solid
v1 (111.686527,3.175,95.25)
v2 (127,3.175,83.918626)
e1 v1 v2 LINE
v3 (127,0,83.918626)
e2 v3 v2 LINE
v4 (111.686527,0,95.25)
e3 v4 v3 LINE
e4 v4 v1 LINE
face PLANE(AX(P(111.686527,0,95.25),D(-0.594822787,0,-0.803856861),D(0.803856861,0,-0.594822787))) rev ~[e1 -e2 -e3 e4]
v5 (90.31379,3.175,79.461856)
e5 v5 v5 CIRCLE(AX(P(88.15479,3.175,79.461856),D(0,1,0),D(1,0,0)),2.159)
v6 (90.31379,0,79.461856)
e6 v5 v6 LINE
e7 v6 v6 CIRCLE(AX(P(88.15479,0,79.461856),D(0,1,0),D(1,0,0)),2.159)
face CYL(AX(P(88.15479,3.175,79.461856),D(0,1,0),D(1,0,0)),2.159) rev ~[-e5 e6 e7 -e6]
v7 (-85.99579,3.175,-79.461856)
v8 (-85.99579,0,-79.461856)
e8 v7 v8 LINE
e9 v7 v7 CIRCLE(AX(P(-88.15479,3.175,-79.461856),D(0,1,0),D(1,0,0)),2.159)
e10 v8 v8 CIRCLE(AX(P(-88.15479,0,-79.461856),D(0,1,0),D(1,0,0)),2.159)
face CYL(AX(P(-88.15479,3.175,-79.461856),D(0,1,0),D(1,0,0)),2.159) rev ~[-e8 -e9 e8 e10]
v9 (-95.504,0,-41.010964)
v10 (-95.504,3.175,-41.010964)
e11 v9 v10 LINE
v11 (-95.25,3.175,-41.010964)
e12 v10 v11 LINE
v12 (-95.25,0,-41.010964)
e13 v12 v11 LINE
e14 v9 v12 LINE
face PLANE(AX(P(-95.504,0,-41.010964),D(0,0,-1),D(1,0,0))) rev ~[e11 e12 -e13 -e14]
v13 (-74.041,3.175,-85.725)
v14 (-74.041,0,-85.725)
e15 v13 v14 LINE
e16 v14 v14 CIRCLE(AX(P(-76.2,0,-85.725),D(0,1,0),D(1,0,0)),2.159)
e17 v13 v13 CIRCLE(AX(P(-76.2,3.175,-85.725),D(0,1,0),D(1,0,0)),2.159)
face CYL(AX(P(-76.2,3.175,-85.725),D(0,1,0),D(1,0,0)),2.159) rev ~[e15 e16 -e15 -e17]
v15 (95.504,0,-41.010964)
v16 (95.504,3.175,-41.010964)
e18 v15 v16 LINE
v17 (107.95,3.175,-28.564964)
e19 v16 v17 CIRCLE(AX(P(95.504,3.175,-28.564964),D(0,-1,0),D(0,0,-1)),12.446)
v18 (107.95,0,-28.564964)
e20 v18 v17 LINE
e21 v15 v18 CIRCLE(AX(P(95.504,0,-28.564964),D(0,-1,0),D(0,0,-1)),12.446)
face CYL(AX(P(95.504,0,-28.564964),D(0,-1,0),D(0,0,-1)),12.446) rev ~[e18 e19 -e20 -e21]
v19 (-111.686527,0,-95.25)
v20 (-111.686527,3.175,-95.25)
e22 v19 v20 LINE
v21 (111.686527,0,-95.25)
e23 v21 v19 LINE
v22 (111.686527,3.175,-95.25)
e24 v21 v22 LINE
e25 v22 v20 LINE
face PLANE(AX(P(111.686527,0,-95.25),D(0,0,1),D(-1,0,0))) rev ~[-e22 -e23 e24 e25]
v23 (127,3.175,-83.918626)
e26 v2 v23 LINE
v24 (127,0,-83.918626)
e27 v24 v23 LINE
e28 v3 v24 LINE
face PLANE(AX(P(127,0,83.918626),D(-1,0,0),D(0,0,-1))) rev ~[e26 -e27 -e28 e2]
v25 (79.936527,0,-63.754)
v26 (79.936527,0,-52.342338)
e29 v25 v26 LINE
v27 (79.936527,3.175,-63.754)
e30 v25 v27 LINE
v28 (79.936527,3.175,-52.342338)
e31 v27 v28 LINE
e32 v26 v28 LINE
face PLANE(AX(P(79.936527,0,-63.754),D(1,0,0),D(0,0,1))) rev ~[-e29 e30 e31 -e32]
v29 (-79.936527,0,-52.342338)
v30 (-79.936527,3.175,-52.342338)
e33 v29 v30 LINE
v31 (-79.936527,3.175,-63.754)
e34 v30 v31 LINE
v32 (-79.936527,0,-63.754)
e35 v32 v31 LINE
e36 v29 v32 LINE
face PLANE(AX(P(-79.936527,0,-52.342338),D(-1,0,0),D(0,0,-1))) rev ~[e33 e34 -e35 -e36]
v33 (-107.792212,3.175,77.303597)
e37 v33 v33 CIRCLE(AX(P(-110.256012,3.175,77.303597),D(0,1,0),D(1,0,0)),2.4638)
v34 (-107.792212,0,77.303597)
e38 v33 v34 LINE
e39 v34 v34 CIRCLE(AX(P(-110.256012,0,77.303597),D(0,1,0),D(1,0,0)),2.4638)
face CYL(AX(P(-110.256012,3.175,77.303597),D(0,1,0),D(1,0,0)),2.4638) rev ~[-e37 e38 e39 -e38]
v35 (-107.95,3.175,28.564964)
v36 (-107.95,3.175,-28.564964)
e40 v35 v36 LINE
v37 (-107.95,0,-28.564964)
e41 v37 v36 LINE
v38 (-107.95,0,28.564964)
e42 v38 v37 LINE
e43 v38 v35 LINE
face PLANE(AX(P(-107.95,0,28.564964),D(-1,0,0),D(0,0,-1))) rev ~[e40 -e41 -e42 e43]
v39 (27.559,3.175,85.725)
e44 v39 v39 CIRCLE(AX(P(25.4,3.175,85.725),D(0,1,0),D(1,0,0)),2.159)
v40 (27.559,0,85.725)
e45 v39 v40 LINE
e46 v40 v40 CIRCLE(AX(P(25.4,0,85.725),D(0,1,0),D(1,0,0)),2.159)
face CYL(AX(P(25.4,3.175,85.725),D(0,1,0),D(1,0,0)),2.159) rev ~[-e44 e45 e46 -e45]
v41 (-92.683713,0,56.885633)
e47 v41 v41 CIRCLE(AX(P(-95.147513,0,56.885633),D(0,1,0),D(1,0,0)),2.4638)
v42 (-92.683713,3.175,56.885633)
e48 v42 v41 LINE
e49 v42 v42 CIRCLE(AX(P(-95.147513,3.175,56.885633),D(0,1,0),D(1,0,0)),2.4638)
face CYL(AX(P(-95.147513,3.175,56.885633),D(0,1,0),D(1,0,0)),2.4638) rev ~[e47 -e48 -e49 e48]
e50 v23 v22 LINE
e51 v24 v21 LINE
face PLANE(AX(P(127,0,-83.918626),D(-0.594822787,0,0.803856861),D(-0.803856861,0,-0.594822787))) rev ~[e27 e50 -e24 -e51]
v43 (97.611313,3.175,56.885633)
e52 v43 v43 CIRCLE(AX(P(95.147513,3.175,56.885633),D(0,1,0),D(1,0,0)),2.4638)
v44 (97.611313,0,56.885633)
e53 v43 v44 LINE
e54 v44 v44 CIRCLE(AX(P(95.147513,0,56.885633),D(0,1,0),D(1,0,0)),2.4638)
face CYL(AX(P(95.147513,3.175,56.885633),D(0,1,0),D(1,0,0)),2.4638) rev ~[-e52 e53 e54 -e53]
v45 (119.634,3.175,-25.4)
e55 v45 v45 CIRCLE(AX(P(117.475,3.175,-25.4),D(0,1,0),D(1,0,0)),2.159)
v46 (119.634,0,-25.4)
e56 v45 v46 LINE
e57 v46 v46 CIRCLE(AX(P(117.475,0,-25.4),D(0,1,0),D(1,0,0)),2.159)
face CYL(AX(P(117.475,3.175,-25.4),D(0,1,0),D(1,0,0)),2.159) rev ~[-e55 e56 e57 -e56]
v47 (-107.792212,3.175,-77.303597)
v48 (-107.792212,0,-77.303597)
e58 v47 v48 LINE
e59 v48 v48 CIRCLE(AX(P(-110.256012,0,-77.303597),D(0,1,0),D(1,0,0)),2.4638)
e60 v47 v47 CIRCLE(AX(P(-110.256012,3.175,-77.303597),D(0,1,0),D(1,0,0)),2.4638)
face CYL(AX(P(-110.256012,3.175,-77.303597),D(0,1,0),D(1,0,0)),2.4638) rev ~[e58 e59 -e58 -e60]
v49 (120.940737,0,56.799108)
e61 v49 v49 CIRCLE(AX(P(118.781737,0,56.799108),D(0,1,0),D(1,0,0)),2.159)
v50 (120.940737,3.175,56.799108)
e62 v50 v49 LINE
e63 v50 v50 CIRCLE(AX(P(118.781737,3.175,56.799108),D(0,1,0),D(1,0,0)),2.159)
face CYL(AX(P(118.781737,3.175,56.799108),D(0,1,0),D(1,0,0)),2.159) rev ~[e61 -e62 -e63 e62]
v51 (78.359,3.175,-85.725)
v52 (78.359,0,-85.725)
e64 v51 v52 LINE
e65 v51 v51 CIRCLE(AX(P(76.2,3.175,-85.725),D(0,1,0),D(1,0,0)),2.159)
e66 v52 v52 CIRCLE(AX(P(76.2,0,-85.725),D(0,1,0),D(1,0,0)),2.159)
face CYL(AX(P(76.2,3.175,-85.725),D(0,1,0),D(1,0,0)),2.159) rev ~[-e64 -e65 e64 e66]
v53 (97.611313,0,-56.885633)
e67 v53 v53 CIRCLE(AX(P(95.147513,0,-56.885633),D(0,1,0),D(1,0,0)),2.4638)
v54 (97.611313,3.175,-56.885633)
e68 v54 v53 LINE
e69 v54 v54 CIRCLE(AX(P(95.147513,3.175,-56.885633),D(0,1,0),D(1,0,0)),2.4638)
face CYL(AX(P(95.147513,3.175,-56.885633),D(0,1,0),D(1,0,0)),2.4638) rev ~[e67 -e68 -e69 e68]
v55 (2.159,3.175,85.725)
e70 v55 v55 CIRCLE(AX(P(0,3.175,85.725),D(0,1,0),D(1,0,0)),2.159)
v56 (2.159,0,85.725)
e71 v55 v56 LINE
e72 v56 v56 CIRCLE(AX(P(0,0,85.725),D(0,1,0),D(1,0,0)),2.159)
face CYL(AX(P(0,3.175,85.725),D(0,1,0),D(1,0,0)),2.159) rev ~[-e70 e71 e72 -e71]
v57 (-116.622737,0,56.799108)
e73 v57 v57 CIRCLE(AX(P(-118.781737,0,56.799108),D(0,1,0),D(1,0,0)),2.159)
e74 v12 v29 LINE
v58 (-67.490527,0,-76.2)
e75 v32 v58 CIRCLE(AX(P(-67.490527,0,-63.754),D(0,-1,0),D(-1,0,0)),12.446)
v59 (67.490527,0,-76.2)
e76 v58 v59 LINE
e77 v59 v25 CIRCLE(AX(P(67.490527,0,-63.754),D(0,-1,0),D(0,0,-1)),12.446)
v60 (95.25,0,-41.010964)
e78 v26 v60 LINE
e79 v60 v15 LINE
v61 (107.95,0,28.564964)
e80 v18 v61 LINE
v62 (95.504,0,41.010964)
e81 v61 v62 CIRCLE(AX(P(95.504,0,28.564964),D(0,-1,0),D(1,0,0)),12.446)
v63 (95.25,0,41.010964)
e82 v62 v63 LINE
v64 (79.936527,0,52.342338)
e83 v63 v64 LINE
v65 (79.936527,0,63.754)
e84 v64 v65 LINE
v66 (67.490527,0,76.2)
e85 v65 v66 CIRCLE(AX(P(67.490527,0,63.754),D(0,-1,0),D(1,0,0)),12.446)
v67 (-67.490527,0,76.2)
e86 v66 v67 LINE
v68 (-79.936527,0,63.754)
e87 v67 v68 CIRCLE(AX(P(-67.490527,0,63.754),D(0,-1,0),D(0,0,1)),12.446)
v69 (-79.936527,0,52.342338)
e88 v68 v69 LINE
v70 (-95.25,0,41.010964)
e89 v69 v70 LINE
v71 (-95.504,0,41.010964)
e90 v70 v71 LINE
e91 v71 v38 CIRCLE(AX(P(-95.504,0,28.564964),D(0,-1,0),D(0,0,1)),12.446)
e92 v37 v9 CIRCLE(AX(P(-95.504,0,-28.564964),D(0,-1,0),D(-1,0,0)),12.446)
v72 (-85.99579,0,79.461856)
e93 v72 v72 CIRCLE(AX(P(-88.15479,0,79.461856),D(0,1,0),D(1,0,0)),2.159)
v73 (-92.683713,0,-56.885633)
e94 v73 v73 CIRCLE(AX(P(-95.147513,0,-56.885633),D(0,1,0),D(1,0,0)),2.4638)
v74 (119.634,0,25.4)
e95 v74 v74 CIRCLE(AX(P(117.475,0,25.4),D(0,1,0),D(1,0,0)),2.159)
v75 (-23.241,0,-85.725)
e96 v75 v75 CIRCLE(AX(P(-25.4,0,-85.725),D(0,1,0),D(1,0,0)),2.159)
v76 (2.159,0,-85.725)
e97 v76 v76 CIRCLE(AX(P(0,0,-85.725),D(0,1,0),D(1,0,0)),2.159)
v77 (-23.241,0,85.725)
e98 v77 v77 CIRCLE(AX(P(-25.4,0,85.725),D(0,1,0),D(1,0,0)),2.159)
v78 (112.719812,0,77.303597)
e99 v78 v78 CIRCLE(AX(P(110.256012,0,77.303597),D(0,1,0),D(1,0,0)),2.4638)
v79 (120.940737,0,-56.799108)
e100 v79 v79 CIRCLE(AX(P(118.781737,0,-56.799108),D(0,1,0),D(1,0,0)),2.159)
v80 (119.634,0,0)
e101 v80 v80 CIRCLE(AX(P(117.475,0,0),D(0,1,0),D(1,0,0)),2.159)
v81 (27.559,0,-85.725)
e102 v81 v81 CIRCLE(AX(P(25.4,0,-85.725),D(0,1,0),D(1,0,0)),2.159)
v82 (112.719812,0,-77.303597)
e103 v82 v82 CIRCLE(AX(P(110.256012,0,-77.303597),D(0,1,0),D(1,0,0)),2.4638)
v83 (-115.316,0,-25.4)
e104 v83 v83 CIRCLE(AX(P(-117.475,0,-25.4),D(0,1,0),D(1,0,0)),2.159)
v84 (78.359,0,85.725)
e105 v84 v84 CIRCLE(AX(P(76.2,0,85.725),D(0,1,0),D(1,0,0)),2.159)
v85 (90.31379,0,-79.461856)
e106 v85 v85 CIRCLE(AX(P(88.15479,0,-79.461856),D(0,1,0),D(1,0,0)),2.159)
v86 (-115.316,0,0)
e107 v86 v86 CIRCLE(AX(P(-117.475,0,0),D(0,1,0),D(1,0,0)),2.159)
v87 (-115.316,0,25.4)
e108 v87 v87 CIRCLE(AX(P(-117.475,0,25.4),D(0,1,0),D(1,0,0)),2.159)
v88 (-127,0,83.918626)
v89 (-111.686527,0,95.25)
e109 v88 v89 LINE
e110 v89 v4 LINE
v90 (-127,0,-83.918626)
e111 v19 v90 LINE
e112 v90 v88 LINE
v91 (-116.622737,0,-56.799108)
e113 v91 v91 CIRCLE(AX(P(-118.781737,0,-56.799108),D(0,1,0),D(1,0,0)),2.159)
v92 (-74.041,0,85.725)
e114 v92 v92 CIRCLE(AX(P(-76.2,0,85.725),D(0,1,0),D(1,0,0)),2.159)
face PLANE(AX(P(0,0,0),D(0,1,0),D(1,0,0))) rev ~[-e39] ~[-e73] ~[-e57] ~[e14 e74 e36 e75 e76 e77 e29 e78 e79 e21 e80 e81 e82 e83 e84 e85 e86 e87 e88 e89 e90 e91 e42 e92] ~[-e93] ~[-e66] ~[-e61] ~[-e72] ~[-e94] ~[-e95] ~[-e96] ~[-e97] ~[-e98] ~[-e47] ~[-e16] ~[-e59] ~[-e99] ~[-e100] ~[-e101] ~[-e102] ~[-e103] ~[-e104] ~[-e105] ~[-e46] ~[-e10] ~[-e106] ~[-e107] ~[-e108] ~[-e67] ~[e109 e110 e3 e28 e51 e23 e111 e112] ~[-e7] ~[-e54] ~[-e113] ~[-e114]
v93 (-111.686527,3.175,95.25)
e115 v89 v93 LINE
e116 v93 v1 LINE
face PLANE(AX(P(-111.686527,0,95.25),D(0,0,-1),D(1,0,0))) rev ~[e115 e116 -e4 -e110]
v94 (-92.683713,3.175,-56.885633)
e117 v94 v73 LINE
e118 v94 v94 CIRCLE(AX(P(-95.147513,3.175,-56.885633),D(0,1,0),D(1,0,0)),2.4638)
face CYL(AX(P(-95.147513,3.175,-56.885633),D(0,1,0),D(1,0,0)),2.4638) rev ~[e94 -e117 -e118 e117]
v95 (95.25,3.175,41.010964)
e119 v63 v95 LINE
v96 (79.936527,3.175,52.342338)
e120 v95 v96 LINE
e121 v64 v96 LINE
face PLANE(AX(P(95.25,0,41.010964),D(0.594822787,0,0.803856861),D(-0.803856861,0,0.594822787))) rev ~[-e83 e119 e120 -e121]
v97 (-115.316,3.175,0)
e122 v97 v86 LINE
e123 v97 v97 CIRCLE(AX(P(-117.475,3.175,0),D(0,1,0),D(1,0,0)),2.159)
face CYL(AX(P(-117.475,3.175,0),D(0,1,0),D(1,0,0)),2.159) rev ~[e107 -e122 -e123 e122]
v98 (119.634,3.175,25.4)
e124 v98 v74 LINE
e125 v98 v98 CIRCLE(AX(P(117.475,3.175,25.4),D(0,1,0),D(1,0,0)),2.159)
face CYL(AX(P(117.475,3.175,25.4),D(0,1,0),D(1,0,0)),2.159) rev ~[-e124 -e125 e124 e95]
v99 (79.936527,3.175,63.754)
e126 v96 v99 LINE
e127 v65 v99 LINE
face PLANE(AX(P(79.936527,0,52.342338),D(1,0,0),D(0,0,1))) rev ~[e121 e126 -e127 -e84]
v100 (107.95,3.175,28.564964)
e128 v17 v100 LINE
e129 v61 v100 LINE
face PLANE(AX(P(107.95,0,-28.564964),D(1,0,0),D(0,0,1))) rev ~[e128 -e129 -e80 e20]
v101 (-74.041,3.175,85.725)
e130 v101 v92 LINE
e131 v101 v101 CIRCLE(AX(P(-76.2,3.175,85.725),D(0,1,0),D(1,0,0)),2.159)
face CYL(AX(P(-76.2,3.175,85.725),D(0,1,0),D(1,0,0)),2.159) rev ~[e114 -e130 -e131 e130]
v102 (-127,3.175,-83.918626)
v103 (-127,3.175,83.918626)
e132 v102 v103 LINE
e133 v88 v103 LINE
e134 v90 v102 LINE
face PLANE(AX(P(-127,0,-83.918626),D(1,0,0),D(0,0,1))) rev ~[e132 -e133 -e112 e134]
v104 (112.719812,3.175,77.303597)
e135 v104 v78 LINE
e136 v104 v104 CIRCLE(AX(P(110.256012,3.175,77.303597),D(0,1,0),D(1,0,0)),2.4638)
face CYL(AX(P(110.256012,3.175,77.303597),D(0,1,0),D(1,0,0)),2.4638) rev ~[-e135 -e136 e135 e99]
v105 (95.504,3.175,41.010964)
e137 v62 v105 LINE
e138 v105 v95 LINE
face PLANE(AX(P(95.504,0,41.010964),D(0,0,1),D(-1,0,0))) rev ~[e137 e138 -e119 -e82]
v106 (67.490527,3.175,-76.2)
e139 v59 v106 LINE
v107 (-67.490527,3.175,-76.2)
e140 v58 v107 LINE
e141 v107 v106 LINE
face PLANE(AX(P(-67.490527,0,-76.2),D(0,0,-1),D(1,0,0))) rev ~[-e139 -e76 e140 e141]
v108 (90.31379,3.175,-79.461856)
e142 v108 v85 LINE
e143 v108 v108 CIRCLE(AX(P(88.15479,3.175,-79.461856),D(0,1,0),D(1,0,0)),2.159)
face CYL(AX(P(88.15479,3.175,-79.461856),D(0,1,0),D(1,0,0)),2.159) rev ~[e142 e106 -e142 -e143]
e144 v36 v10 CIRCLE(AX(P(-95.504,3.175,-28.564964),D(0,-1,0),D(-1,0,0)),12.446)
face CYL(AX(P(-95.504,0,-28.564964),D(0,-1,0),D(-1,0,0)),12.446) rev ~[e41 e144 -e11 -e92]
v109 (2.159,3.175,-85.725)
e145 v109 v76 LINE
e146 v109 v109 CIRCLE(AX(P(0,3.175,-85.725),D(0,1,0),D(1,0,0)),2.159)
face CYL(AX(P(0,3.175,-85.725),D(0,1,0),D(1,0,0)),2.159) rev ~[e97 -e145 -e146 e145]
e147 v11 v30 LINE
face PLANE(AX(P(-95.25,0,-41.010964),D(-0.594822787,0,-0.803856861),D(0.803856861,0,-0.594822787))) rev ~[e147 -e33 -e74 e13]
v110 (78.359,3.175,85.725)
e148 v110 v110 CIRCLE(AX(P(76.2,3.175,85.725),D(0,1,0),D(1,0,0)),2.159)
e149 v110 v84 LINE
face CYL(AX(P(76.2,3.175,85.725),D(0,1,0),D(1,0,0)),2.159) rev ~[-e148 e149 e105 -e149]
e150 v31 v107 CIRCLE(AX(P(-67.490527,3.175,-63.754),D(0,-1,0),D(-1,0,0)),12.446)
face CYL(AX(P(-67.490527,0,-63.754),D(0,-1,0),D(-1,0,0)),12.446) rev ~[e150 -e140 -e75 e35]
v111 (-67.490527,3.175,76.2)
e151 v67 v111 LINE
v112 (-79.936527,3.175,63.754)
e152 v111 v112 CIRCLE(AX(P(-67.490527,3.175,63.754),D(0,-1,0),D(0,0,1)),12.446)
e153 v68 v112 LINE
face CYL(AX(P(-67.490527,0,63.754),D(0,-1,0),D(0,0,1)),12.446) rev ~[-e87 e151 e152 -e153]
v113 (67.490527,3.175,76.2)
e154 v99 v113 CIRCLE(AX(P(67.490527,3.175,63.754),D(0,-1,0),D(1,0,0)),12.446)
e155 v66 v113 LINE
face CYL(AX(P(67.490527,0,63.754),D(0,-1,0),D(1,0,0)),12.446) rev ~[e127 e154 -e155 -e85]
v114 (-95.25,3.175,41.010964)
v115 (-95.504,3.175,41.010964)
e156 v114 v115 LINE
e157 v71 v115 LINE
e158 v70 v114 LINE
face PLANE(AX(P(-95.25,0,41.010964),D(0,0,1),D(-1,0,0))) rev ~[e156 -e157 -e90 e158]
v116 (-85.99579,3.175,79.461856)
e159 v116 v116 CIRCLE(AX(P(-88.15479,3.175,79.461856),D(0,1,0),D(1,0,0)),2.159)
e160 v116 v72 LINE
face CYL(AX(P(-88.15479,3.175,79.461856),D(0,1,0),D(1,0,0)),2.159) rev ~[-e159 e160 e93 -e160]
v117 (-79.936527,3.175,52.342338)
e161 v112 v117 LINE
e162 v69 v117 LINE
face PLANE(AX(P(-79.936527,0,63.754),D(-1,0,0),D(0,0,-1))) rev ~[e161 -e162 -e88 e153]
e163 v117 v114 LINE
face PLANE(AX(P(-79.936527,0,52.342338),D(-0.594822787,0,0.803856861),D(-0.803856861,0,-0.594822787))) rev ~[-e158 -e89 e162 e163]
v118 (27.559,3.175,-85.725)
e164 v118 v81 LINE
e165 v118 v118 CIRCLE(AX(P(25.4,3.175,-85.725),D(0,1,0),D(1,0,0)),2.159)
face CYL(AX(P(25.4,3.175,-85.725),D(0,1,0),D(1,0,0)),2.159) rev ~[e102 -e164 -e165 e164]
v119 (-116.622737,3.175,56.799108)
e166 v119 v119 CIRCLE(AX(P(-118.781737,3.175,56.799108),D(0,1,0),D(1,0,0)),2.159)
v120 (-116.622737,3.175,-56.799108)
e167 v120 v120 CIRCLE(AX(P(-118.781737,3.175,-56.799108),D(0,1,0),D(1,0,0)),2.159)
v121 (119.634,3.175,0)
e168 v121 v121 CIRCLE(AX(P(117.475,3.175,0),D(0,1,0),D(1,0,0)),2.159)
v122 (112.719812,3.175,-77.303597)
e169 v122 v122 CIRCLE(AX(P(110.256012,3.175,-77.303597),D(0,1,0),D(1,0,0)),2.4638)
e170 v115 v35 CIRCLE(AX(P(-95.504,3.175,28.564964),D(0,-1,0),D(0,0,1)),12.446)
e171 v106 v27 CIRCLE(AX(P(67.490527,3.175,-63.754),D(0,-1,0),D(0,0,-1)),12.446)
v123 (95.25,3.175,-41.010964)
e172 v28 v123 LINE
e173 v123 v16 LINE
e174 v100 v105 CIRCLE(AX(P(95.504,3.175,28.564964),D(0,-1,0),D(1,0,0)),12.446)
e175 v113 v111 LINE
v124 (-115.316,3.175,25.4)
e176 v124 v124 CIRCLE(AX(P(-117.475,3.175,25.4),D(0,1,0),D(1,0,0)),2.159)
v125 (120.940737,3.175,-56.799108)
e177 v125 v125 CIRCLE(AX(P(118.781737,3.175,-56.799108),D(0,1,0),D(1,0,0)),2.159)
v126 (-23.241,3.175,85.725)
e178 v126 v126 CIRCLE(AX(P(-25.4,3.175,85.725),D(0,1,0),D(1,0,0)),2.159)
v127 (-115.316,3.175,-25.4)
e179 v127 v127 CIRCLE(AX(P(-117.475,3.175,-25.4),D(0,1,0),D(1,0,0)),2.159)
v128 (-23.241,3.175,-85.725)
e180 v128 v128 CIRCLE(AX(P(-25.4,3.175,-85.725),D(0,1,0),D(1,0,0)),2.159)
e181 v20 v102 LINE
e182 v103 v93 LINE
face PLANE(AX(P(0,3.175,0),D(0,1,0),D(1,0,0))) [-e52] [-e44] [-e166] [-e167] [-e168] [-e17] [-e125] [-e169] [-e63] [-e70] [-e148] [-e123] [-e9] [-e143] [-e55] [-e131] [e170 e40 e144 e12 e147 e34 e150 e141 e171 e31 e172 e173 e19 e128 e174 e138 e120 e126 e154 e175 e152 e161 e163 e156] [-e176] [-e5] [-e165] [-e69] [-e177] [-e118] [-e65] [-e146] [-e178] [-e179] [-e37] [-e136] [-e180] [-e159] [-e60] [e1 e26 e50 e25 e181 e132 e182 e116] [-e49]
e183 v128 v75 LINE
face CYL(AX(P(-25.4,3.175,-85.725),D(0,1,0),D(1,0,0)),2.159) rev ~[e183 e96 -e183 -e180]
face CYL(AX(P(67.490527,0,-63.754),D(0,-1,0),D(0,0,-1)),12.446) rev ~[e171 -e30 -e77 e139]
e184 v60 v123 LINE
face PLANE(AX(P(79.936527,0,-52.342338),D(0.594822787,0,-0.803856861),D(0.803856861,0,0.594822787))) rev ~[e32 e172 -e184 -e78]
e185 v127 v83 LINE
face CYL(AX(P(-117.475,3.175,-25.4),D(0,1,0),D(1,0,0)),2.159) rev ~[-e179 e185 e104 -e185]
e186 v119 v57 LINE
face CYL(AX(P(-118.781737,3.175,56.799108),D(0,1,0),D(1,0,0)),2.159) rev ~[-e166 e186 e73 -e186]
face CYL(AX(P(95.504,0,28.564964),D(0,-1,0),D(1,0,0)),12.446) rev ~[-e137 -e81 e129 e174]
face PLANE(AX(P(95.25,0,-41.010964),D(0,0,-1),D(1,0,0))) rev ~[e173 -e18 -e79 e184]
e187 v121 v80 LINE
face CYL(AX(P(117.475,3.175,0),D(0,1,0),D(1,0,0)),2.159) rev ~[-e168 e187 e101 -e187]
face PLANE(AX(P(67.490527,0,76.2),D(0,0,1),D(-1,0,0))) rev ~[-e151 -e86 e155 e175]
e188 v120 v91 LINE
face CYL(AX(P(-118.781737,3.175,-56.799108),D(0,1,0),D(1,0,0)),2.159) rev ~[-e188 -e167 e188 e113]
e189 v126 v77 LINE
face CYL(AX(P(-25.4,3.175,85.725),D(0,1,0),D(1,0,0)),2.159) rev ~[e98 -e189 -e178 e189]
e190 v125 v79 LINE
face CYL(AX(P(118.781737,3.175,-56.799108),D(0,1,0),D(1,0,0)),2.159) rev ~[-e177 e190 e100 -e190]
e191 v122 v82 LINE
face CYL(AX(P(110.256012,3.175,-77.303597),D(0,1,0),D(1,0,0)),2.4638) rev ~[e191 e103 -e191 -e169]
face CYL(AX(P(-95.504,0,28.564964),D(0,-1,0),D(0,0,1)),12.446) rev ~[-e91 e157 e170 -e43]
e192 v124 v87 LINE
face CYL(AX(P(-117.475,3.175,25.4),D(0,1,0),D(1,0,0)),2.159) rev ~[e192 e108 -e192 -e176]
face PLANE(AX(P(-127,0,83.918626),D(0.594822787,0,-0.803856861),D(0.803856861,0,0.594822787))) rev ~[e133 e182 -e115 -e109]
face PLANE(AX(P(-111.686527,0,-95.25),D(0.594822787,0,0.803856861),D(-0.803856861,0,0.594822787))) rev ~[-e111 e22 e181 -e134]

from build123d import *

# Parameters (mm, degrees)
BOSS_EXTRUDE1_DEPTH = 3.175
SKETCH2_R           = 2.4638
SKETCH2_R_2         = 2.159
CUT_EXTRUDE1_DEPTH  = 4.175
SKETCH3_R           = 2.159
CUT_EXTRUDE2_DEPTH  = 4.175


with BuildPart() as part:
    # Sketch1 → Boss-Extrude1 (new body)
    with BuildSketch(Plane(origin=(0, 0, 0), x_dir=(1, 0, 0), z_dir=(0, 1, 0))):
        Polygon((-111.686526805, 95.25), (-127, 83.918625912), (-127, -83.918625912), (-111.686526805, -95.25), (111.686526805, -95.25), (127, -83.918625912), (127, 83.918625912), (111.686526805, 95.25), align=None)
        with BuildLine():
            Line((-107.95, -28.564963508), (-107.95, 28.564963508))
            ThreePointArc((-107.95, 28.564963508), (-104.304650999, 37.365614506), (-95.504, 41.010963508))
            Line((-95.504, 41.010963508), (-95.25, 41.010963508))
            Line((-95.25, 41.010963508), (-79.936526805, 52.342337595))
            Line((-79.936526805, 52.342337595), (-79.936526805, 63.754))
            ThreePointArc((-79.936526805, 63.754), (-76.291177804, 72.554650999), (-67.490526805, 76.2))
            Line((-67.490526805, 76.2), (67.490526805, 76.2))
            ThreePointArc((67.490526805, 76.2), (76.291177804, 72.554650999), (79.936526805, 63.754))
            Line((79.936526805, 63.754), (79.936526805, 52.342337595))
            Line((79.936526805, 52.342337595), (95.25, 41.010963508))
            Line((95.25, 41.010963508), (95.504, 41.010963508))
            ThreePointArc((95.504, 41.010963508), (104.304650999, 37.365614506), (107.95, 28.564963508))
            Line((107.95, 28.564963508), (107.95, -28.564963508))
            ThreePointArc((107.95, -28.564963508), (104.304650999, -37.365614506), (95.504, -41.010963508))
            Line((95.504, -41.010963508), (95.25, -41.010963508))
            Line((95.25, -41.010963508), (79.936526805, -52.342337595))
            Line((79.936526805, -52.342337595), (79.936526805, -63.754))
            ThreePointArc((79.936526805, -63.754), (76.291177804, -72.554650999), (67.490526805, -76.2))
            Line((67.490526805, -76.2), (-67.490526805, -76.2))
            ThreePointArc((-67.490526805, -76.2), (-76.291177804, -72.554650999), (-79.936526805, -63.754))
            Line((-79.936526805, -63.754), (-79.936526805, -52.342337595))
            Line((-79.936526805, -52.342337595), (-95.25, -41.010963508))
            Line((-95.25, -41.010963508), (-95.504, -41.010963508))
            ThreePointArc((-95.504, -41.010963508), (-104.304650999, -37.365614506), (-107.95, -28.564963508))
        make_face(mode=Mode.SUBTRACT)
    extrude(amount=BOSS_EXTRUDE1_DEPTH)

    # Sketch2 → Cut-Extrude1 (cut, through all)
    with BuildSketch(Plane(origin=(0, 3.175, 0), x_dir=(1, 0, 0), z_dir=(0, 1, 0))):
        with Locations((-95.147512794, 56.885632681)):
            Circle(SKETCH2_R)
        with Locations((-110.256011578, 77.303596941)):
            Circle(SKETCH2_R)
        with Locations((110.256011578, 77.303596941)):
            Circle(SKETCH2_R)
        with Locations((95.147512794, 56.885632681)):
            Circle(SKETCH2_R)
        with Locations((110.256011578, -77.303596941)):
            Circle(SKETCH2_R)
        with Locations((95.147512794, -56.885632681)):
            Circle(SKETCH2_R)
        with Locations((-110.256011578, -77.303596941)):
            Circle(SKETCH2_R)
        with Locations((-95.147512794, -56.885632681)):
            Circle(SKETCH2_R)
        with Locations((-88.154790208, 79.461855841)):
            Circle(SKETCH2_R_2)
        with Locations((-118.781736597, 56.799107666)):
            Circle(SKETCH2_R_2)
        with Locations((118.781736597, 56.799107666)):
            Circle(SKETCH2_R_2)
        with Locations((88.154790208, 79.461855841)):
            Circle(SKETCH2_R_2)
        with Locations((118.781736597, -56.799107666)):
            Circle(SKETCH2_R_2)
        with Locations((88.154790208, -79.461855841)):
            Circle(SKETCH2_R_2)
        with Locations((-88.154790208, -79.461855841)):
            Circle(SKETCH2_R_2)
        with Locations((-118.781736597, -56.799107666)):
            Circle(SKETCH2_R_2)
    extrude(amount=-CUT_EXTRUDE1_DEPTH, mode=Mode.SUBTRACT)

    # Sketch3 → Cut-Extrude2 (cut, through all)
    with BuildSketch(Plane(origin=(0, 3.175, 0), x_dir=(1, 0, 0), z_dir=(0, 1, 0))):
        with Locations((-76.2, 85.725)):
            Circle(SKETCH3_R)
        with Locations((-25.4, 85.725)):
            Circle(SKETCH3_R)
        with Locations((25.4, 85.725)):
            Circle(SKETCH3_R)
        with Locations((76.2, 85.725)):
            Circle(SKETCH3_R)
        with Locations((76.2, -85.725)):
            Circle(SKETCH3_R)
        with Locations((25.4, -85.725)):
            Circle(SKETCH3_R)
        with Locations((-25.4, -85.725)):
            Circle(SKETCH3_R)
        with Locations((-76.2, -85.725)):
            Circle(SKETCH3_R)
        with Locations((-117.475, -25.4)):
            Circle(SKETCH3_R)
        with Locations((-117.475, 25.4)):
            Circle(SKETCH3_R)
        with Locations((117.475, 25.4)):
            Circle(SKETCH3_R)
        with Locations((117.475, -25.4)):
            Circle(SKETCH3_R)
        with Locations((0, 85.725)):
            Circle(SKETCH3_R)
        with Locations((0, -85.725)):
            Circle(SKETCH3_R)
        with Locations((-117.475, 0)):
            Circle(SKETCH3_R)
        with Locations((117.475, 0)):
            Circle(SKETCH3_R)
    extrude(amount=-CUT_EXTRUDE2_DEPTH, mode=Mode.SUBTRACT)


solid = part.part
